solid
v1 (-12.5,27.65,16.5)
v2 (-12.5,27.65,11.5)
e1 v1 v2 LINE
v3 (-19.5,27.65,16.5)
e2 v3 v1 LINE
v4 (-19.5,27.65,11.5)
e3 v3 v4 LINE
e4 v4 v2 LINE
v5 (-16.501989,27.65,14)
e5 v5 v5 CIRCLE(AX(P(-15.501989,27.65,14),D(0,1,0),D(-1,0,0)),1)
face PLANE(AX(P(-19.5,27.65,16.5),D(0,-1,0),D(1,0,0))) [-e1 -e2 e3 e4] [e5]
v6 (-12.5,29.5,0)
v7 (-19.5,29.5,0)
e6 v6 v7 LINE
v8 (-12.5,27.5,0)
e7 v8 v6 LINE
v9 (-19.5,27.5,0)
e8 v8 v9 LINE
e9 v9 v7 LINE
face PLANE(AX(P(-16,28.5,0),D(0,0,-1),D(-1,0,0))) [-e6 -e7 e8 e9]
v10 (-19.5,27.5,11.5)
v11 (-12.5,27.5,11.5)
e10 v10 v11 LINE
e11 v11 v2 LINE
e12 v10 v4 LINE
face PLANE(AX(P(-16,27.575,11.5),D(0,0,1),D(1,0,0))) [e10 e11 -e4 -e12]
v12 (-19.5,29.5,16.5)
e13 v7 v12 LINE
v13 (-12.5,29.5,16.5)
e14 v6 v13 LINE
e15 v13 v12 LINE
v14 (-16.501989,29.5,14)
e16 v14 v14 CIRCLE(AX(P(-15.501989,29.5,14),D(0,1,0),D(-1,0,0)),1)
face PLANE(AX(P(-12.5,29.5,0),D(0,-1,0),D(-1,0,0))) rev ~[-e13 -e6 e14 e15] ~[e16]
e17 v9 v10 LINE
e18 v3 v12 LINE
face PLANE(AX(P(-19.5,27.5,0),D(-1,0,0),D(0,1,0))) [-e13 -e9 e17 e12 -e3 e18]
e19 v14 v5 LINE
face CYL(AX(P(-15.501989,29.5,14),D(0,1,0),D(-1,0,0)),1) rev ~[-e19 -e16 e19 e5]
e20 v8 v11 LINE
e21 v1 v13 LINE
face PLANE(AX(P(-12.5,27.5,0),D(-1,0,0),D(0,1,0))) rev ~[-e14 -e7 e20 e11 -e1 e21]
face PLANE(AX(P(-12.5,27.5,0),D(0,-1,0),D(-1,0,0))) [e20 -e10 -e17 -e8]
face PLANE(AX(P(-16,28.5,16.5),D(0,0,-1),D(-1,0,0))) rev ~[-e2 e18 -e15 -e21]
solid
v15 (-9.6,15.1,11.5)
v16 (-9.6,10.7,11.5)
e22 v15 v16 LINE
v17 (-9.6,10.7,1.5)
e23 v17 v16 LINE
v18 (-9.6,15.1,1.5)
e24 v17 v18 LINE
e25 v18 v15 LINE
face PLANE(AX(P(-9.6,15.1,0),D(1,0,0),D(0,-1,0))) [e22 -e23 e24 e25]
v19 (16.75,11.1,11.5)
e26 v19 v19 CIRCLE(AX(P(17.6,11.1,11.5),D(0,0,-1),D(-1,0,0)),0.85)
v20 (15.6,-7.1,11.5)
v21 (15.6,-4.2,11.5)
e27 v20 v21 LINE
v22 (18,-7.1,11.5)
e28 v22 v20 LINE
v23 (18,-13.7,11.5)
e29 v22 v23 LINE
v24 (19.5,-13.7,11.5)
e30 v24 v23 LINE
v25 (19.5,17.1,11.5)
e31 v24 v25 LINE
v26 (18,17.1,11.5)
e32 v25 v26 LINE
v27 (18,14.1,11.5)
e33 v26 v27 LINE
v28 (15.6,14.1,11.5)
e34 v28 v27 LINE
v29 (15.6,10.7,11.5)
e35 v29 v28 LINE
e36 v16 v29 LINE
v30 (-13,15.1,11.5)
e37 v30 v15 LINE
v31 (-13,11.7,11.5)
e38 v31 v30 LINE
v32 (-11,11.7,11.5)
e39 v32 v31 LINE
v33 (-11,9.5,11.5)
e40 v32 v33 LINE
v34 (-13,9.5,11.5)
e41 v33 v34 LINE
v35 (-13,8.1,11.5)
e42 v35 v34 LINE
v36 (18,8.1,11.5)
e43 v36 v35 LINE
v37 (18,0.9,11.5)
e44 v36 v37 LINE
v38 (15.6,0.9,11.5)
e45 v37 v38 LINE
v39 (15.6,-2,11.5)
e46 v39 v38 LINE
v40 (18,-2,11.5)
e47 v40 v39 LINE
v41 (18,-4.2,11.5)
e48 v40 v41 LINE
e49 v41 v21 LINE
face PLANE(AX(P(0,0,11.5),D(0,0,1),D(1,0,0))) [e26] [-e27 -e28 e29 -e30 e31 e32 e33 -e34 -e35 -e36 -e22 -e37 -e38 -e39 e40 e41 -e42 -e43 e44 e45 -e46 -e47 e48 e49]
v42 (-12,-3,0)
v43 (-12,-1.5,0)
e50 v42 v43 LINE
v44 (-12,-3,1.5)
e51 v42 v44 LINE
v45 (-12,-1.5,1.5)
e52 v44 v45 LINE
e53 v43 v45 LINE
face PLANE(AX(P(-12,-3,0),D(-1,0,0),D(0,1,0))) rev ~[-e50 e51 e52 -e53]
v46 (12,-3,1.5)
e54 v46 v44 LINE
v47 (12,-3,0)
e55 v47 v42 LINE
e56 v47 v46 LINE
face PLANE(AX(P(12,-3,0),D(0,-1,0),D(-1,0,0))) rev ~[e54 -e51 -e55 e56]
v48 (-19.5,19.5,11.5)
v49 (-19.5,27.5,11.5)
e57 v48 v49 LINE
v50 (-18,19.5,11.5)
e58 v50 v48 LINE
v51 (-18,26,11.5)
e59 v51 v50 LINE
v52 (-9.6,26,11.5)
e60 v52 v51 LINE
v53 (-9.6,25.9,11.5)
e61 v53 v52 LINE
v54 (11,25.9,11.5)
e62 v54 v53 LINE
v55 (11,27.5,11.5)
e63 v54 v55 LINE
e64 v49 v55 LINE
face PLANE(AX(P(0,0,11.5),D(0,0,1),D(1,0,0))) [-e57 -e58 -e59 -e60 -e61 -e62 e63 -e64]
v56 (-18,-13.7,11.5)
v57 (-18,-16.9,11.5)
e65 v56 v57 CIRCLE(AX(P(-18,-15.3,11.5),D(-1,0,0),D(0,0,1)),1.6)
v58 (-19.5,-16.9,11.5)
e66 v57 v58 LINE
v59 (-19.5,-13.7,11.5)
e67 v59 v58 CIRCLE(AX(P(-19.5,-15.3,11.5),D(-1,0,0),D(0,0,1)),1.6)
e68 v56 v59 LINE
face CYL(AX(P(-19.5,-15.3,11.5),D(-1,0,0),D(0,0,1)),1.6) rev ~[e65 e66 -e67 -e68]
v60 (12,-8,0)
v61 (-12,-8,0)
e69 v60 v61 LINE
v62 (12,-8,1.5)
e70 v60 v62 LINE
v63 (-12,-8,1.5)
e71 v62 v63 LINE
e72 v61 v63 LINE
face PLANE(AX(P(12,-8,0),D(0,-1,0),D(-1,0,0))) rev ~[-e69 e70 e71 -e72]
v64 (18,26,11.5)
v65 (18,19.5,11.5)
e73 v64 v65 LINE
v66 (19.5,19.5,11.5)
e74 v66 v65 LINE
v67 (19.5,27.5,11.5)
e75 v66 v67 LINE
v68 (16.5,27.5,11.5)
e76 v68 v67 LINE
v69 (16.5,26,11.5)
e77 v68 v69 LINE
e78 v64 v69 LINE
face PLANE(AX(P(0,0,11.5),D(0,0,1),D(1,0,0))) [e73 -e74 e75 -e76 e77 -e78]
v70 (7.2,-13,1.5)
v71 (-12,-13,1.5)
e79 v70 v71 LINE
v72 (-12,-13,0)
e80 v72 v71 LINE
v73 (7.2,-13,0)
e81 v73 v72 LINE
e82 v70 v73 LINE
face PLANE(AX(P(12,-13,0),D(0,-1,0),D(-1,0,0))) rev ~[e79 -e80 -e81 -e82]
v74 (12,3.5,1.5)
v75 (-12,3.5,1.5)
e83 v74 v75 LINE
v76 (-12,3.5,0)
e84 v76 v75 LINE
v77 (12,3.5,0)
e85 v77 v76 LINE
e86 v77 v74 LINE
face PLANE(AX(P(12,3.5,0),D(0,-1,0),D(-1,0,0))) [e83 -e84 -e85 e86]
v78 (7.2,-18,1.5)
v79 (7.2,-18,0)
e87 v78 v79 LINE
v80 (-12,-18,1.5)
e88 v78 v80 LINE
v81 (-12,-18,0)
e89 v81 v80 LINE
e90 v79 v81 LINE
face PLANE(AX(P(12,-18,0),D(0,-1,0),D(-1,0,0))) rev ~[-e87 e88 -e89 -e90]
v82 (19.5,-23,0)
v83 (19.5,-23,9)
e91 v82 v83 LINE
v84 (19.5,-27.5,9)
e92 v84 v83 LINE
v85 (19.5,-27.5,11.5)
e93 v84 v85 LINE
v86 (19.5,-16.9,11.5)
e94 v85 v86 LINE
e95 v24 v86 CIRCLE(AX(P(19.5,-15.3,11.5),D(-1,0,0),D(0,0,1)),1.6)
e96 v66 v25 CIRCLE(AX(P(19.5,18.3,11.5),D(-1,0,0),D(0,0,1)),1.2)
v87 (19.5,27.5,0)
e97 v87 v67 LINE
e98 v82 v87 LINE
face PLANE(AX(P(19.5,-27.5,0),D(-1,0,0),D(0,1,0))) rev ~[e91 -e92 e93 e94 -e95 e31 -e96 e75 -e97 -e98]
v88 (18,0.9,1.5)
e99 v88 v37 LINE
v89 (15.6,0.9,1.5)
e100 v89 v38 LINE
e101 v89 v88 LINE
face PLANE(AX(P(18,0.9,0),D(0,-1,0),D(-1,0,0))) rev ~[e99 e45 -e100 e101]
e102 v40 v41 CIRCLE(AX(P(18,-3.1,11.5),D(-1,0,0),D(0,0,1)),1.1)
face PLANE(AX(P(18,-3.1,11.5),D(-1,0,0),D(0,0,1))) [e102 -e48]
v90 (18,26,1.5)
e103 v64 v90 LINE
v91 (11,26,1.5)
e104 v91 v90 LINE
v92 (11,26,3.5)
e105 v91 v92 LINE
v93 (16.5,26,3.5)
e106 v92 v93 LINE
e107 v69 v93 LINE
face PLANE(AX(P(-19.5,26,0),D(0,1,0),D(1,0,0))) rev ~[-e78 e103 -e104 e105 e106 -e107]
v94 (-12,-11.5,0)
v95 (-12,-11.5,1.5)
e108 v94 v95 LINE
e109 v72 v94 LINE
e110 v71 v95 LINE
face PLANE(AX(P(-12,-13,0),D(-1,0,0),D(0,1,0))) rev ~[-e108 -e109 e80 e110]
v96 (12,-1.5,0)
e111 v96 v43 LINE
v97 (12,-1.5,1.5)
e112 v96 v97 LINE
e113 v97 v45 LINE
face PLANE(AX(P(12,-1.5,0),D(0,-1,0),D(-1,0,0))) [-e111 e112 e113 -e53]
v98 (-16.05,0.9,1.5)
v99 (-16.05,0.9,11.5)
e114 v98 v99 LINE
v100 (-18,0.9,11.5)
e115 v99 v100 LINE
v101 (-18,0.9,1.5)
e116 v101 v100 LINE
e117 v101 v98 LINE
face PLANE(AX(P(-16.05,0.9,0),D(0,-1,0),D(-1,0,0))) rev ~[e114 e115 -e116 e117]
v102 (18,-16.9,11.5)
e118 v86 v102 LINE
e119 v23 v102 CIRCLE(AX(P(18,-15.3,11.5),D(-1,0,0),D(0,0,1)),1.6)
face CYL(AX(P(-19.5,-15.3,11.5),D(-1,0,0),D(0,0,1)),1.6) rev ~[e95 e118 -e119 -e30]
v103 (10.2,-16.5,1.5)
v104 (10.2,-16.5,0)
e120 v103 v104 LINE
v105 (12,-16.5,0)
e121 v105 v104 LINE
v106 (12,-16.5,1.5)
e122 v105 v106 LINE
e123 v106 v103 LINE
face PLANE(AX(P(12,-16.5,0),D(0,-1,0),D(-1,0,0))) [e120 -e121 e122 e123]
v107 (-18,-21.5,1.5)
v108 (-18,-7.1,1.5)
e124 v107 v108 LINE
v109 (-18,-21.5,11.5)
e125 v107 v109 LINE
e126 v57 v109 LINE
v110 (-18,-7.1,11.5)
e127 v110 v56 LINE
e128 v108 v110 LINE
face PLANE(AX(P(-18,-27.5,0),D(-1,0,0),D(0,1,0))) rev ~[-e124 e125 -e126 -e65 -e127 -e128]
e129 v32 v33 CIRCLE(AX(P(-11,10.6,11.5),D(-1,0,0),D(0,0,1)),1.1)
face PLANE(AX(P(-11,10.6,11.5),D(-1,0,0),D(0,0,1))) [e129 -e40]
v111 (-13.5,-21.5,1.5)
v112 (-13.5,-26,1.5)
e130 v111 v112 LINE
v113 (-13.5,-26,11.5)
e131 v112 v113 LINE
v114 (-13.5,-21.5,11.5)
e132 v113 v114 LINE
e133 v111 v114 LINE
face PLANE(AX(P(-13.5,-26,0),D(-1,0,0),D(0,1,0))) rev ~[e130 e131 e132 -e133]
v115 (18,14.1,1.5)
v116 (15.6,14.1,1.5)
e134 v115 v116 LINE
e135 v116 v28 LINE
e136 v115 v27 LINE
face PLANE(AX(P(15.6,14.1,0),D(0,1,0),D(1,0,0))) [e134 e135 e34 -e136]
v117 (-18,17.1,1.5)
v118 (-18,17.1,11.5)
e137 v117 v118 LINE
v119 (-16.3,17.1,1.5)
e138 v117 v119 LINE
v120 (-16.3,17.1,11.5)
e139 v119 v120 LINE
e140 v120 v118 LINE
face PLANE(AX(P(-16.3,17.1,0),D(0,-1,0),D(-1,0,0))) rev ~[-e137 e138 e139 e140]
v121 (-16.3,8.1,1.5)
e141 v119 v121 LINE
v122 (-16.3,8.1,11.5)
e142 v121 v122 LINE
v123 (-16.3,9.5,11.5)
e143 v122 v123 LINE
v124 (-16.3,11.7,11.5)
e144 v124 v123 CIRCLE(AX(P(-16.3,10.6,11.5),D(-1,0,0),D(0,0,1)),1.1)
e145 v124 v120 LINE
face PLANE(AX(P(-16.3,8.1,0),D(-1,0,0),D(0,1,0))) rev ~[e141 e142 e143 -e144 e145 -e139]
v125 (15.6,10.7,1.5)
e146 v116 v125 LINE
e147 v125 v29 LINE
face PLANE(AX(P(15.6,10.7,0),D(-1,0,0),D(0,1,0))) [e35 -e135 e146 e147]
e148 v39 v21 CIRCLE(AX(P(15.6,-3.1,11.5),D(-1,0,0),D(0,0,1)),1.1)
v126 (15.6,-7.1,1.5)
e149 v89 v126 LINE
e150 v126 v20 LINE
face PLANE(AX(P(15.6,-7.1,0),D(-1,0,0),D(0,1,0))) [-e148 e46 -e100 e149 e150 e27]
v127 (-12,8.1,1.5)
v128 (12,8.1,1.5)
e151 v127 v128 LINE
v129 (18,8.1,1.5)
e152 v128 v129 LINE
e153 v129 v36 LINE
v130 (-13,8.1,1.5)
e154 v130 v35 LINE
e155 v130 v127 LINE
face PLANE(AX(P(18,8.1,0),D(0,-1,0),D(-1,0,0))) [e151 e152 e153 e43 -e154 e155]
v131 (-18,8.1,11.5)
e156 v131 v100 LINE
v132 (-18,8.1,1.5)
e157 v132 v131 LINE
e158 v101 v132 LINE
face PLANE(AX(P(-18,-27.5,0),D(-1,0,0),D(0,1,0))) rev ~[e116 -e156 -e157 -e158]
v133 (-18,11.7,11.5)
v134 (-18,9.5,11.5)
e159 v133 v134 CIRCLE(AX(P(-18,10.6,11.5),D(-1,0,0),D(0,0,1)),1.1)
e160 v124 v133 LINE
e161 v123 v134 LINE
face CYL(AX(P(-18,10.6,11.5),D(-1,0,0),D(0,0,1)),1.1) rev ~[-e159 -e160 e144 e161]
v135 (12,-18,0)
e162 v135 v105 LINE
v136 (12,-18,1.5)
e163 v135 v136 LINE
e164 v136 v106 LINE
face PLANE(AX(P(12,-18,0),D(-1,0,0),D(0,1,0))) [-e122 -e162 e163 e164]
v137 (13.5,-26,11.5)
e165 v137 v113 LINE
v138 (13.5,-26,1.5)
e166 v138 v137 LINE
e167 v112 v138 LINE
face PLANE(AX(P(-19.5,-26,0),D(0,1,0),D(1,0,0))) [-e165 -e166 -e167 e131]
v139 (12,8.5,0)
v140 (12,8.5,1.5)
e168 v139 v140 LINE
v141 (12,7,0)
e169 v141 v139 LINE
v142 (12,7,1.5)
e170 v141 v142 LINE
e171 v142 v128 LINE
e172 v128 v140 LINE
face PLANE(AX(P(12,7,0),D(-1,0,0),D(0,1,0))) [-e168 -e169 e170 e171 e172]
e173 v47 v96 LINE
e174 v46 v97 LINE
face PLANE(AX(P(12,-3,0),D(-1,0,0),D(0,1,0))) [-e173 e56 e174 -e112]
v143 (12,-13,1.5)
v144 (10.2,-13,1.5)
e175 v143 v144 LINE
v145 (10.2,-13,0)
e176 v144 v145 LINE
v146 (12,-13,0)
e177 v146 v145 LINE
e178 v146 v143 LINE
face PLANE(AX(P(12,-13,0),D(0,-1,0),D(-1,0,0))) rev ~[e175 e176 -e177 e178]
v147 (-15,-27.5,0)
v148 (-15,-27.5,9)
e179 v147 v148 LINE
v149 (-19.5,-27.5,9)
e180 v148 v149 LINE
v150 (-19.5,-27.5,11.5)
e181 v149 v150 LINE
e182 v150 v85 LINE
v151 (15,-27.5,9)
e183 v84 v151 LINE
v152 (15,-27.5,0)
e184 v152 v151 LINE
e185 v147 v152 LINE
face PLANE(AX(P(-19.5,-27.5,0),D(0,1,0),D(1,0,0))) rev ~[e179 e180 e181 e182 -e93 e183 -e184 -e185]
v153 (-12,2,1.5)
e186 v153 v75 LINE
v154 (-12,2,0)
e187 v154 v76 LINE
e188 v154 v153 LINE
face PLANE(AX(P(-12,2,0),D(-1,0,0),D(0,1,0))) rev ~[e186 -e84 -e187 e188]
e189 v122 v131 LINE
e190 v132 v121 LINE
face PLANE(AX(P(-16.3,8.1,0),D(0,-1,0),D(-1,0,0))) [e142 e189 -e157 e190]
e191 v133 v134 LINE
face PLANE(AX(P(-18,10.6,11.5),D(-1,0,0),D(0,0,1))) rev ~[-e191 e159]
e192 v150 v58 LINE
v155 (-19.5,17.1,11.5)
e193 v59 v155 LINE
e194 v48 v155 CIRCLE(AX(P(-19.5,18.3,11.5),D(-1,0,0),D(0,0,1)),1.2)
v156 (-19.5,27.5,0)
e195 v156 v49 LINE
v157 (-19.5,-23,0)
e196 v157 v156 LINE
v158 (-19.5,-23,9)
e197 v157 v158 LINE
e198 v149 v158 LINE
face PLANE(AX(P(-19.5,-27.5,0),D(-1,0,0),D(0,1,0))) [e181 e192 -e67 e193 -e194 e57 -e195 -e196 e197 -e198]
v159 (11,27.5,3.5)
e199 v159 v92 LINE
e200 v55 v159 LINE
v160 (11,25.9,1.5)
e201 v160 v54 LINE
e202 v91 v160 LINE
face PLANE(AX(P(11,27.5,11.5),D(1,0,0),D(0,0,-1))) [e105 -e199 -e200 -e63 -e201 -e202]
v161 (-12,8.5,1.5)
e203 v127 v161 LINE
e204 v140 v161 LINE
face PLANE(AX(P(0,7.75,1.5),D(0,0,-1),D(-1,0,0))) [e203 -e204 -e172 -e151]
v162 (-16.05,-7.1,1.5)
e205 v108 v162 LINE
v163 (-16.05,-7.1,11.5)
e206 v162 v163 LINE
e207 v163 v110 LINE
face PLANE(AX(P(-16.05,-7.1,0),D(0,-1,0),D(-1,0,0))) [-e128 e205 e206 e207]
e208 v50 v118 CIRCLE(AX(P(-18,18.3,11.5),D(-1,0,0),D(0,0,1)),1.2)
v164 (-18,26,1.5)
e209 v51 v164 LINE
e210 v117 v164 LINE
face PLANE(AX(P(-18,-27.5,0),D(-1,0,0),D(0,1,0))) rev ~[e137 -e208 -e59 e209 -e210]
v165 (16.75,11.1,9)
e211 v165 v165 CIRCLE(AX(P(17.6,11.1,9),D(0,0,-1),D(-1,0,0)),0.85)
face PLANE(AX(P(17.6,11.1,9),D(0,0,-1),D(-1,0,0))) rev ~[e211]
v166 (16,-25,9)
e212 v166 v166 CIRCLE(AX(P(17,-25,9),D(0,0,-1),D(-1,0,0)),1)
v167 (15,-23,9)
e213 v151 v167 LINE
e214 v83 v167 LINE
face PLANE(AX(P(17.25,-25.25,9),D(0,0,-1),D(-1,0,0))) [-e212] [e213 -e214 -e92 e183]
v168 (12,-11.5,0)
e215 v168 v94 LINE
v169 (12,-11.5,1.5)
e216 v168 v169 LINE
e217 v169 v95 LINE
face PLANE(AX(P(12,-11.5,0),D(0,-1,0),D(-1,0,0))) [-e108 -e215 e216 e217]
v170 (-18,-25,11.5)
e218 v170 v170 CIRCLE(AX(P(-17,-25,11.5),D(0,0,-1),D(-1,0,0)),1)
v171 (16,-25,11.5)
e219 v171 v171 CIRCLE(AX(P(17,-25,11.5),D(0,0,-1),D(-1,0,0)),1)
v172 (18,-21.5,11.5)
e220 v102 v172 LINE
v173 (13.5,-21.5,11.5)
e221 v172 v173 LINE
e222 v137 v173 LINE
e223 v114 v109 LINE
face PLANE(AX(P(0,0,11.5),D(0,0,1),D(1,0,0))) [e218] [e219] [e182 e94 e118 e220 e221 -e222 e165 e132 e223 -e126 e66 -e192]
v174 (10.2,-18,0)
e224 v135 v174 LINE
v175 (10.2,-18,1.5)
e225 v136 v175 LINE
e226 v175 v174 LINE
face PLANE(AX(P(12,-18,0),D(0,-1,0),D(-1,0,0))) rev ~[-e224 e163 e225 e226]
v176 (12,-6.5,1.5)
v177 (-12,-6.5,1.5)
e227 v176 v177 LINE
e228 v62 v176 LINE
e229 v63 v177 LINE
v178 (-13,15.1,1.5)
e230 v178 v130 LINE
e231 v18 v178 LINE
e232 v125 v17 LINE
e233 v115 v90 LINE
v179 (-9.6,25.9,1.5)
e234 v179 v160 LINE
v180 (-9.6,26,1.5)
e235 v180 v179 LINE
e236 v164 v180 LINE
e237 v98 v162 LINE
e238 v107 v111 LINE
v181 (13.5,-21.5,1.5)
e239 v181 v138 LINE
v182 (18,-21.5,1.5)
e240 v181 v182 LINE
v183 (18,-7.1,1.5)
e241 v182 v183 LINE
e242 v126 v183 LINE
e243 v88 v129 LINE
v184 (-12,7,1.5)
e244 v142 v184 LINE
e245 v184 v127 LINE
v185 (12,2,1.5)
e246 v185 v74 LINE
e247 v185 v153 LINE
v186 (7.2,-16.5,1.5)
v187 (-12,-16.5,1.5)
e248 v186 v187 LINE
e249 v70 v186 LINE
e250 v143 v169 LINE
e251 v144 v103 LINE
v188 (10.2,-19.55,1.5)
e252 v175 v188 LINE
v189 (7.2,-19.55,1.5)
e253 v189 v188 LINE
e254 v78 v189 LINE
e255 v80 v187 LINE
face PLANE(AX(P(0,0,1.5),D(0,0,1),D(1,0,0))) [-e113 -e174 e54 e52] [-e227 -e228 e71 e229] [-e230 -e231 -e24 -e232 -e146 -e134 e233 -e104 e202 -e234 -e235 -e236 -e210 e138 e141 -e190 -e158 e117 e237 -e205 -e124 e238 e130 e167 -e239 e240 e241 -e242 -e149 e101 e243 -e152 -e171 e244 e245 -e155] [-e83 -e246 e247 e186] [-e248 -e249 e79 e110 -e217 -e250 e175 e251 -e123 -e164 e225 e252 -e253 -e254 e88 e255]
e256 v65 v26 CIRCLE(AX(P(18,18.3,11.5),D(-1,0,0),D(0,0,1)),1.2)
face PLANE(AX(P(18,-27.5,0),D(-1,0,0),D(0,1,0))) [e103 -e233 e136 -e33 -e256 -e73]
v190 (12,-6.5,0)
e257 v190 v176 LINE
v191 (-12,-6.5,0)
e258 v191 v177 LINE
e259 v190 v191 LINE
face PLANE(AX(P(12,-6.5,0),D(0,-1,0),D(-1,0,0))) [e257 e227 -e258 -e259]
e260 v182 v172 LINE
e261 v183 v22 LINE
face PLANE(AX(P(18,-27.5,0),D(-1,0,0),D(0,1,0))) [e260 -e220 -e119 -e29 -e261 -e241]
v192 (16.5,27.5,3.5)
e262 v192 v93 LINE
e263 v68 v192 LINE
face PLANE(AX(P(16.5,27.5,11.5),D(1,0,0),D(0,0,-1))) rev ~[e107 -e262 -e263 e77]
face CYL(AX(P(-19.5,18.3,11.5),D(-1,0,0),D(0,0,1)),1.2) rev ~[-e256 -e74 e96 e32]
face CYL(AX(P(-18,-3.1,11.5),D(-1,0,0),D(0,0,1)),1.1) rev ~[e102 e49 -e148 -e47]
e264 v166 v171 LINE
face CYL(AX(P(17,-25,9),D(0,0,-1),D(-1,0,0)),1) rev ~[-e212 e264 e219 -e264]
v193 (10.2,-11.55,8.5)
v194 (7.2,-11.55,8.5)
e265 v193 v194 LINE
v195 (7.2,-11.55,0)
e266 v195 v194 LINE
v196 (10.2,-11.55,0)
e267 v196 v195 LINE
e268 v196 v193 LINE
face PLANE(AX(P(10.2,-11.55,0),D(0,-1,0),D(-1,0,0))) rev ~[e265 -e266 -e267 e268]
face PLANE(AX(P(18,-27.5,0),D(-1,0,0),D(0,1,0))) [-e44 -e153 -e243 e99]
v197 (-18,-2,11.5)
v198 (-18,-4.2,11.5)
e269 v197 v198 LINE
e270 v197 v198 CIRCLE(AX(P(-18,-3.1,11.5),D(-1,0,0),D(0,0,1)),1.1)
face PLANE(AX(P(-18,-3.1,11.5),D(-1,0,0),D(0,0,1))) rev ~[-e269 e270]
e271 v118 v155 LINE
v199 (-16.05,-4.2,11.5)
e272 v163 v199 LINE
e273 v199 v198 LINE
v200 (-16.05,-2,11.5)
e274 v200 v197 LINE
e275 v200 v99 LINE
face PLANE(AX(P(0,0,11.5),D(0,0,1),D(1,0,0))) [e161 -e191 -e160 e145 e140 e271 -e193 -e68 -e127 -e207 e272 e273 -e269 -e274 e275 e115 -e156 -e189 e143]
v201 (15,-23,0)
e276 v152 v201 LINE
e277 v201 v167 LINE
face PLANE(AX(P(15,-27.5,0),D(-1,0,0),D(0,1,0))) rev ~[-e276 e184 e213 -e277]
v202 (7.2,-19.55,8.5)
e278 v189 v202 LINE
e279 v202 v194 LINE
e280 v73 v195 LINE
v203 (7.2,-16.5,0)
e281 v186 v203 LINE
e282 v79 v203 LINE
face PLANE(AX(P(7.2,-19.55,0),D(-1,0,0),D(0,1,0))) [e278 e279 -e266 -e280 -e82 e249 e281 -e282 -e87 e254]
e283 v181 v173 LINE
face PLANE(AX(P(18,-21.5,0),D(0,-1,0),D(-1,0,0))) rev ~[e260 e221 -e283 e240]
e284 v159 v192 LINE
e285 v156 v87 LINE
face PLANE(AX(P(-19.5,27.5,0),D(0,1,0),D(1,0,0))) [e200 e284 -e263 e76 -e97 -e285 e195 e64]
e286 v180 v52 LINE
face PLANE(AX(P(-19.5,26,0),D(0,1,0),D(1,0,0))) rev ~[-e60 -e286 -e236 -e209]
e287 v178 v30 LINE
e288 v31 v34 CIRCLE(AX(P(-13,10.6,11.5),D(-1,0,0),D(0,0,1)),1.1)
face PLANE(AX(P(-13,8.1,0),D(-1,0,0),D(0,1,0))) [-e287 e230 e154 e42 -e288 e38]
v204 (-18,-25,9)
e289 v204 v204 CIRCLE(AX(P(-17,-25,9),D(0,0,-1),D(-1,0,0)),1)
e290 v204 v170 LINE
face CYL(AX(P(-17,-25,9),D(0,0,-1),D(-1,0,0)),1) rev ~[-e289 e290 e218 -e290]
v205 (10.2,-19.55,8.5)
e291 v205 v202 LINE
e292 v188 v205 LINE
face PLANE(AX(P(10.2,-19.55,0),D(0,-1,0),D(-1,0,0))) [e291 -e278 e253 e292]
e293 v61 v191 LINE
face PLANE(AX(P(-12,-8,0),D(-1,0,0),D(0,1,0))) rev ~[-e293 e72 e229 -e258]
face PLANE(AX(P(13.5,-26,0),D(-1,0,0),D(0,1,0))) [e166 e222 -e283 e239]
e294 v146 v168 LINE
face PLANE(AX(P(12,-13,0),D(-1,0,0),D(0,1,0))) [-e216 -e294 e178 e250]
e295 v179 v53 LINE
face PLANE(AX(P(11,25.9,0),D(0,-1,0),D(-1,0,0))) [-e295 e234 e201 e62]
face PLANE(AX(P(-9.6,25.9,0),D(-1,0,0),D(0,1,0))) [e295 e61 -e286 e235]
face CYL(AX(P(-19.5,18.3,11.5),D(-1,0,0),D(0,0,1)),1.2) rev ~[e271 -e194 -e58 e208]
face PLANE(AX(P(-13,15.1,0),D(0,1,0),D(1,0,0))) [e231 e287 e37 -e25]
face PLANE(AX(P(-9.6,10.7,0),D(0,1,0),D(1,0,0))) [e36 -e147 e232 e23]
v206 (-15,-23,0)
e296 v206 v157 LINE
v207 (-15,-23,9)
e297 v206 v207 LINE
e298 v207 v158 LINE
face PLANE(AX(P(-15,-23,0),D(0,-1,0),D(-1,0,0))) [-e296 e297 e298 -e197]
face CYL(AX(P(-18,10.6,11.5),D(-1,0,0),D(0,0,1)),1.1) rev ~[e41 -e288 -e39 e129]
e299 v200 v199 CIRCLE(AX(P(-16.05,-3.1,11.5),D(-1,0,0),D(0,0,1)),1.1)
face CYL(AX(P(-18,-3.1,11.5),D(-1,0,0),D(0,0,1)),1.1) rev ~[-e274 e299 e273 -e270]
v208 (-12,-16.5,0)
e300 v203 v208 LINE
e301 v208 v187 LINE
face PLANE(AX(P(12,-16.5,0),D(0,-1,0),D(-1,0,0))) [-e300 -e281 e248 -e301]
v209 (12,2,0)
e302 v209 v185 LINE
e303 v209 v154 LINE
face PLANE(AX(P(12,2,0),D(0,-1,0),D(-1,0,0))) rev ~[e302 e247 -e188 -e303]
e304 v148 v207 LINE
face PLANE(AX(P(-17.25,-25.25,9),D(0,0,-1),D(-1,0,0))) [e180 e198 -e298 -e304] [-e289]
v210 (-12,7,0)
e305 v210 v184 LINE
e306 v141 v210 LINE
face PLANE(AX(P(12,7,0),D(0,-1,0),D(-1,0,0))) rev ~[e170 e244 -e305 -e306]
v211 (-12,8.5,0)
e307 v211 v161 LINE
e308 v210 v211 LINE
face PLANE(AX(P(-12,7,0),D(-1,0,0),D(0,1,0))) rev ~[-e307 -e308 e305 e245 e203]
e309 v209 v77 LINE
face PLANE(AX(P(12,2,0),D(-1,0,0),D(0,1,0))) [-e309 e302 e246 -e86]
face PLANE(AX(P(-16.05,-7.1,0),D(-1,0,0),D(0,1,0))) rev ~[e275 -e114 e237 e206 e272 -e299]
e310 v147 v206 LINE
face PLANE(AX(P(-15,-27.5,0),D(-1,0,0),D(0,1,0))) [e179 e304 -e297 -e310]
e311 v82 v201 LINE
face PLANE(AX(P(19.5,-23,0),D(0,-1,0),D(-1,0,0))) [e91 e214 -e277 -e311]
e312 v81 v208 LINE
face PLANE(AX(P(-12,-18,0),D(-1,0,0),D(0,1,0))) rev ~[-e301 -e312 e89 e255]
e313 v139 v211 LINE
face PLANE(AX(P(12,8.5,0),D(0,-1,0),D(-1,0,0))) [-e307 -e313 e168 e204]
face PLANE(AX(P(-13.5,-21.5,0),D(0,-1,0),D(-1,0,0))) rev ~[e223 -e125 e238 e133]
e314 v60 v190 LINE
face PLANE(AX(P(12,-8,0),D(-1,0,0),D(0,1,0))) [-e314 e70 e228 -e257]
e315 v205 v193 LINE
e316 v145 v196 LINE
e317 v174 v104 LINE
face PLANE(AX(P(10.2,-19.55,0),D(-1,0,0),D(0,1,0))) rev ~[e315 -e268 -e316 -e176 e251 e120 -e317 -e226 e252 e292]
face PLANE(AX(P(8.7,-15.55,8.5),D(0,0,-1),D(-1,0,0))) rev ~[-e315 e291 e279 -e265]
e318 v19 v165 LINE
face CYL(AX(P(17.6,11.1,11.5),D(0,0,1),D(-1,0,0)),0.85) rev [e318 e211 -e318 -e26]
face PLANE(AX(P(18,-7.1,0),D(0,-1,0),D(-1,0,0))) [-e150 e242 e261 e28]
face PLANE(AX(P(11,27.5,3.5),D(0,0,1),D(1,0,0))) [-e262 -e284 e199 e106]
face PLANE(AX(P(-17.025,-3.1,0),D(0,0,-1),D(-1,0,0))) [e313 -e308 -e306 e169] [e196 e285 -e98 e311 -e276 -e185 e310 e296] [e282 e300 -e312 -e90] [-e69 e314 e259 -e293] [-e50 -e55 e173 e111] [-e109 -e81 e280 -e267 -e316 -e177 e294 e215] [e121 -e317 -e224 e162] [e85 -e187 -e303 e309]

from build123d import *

# Parameters (mm, degrees)
SKETCH_1_W           = 39
SKETCH_1_H           = 55
EXTRUDE_1_DEPTH      = 11.5
SHELL_1_T            = -1.5
SKETCH_2_W           = 7
SKETCH_2_H           = 2
EXTRUDE_2_DEPTH      = 16.5
SKETCH_3_R           = 1
CUT_EXTRUDE_1_DEPTH  = 2
SKETCH_4_W           = 5.5
SKETCH_4_H           = 8
CUT_EXTRUDE_2_DEPTH  = 1.5
SKETCH_5_R           = 1.2
SKETCH_5_R_2         = 1.6
CUT_EXTRUDE_3_DEPTH  = 52.609107723
SKETCH_8_W           = 1.95
SKETCH_8_H           = 8
SKETCH_8_W_2         = 2.4
SKETCH_8_W_3         = 1.7
SKETCH_8_H_2         = 9
SKETCH_8_W_4         = 4.5
SKETCH_8_H_3         = 4.5
SKETCH_8_W_5         = 20.6
SKETCH_8_H_4         = 0.1
EXTRUDE_3_DEPTH      = 11.5
CUT_EXTRUDE_START    = -1.5
SKETCH_10_R          = 1.1
CUT_EXTRUDE_12_DEPTH = 7
SKETCH_7_R           = 1.1
CUT_EXTRUDE_13_DEPTH = 36
SKETCH_13_W          = 24
SKETCH_13_H          = 1.5
CUT_EXTRUDE_14_DEPTH = 1.5
SKETCH_12_W          = 3
SKETCH_12_H          = 8
EXTRUDE_4_DEPTH      = 8.5
SKETCH_14_W          = 7
SKETCH_14_H          = 0.15
CUT_EXTRUDE_15_DEPTH = 5
SKETCH_15_W          = 4.5
SKETCH_15_H          = 4.5
CUT_EXTRUDE_16_DEPTH = 9
SKETCH_16_R          = 1
CUT_EXTRUDE_17_DEPTH = 2.5
CUT_EXTRUDE_START_2  = -11.5
SKETCH_17_R          = 0.85
CUT_EXTRUDE_18_DEPTH = 2.5


with BuildPart() as part:
    # 草图1 → 凸台-拉伸1 (new body)
    with BuildSketch(Plane.XY):
        Rectangle(SKETCH_1_W, SKETCH_1_H)
    extrude(amount=EXTRUDE_1_DEPTH)

    # 抽壳1
    shell_1_openings = [part.faces().sort_by_distance(p)[0] for p in [
        (0, 0, 11.5),
    ]]
    offset(amount=SHELL_1_T, openings=shell_1_openings, kind=Kind.INTERSECTION)

    # 草图4 → 切除-拉伸2 (cut)
    with BuildSketch(Plane(origin=(0, 27.5, 0), x_dir=(1, 0, 0), z_dir=(0, 1, 0))):
        with Locations((13.75, -7.5)):
            Rectangle(SKETCH_4_W, SKETCH_4_H)
    extrude(amount=-CUT_EXTRUDE_2_DEPTH, mode=Mode.SUBTRACT)

    # 草图5 → 切除-拉伸3 (cut, through all)
    with BuildSketch(Plane.ZY.offset(19.5)):
        with Locations((11.5, 18.3)):
            Circle(SKETCH_5_R)
        with Locations((11.5, -15.3)):
            Circle(SKETCH_5_R_2)
    extrude(amount=-CUT_EXTRUDE_3_DEPTH, mode=Mode.SUBTRACT)

    # 草图8 → 凸台-拉伸3 (add)
    with BuildSketch(Plane(origin=(0, 0, 0), x_dir=(-1, 0, 0), z_dir=(0, 0, -1))):
        with Locations((17.025, -3.1)):
            Rectangle(SKETCH_8_W, SKETCH_8_H)
        with Locations((-16.8, -3.1)):
            Rectangle(SKETCH_8_W_2, SKETCH_8_H)
        Polygon((-15.6, 14.1), (-18, 14.1), (-18, 8.1), (13, 8.1), (13, 15.1), (9.6, 15.1), (9.6, 10.7), (-15.6, 10.7), align=None)
        with Locations((17.15, 12.6)):
            Rectangle(SKETCH_8_W_3, SKETCH_8_H_2)
        with Locations((15.75, -23.75)):
            Rectangle(SKETCH_8_W_4, SKETCH_8_H_3)
        with Locations((-15.75, -23.75)):
            Rectangle(SKETCH_8_W_4, SKETCH_8_H_3)
        with Locations((-0.7, 25.95)):
            Rectangle(SKETCH_8_W_5, SKETCH_8_H_4)
    extrude(amount=-EXTRUDE_3_DEPTH)

    # 草图10 → 切除-拉伸12 (cut)
    with BuildSketch(Plane.ZY.offset(19.5).offset(CUT_EXTRUDE_START)):
        with Locations((11.5, 10.6)):
            Circle(SKETCH_10_R)
    extrude(amount=-CUT_EXTRUDE_12_DEPTH, mode=Mode.SUBTRACT)

    # 草图7 → 切除-拉伸13 (cut)
    with BuildSketch(Plane.ZY.offset(19.5).offset(CUT_EXTRUDE_START)):
        with Locations((11.5, -3.1)):
            Circle(SKETCH_7_R)
    extrude(amount=-CUT_EXTRUDE_13_DEPTH, mode=Mode.SUBTRACT)

    # 草图13 → 切除-拉伸14 (cut)
    with BuildSketch(Plane(origin=(0, 0, 0), x_dir=(-1, 0, 0), z_dir=(0, 0, -1))):
        with Locations((0, -17.25)):
            Rectangle(SKETCH_13_W, SKETCH_13_H)
        with Locations((0, -12.25)):
            Rectangle(SKETCH_13_W, SKETCH_13_H)
        with Locations((0, -7.25)):
            Rectangle(SKETCH_13_W, SKETCH_13_H)
        with Locations((0, -2.25)):
            Rectangle(SKETCH_13_W, SKETCH_13_H)
        with Locations((0, 2.75)):
            Rectangle(SKETCH_13_W, SKETCH_13_H)
        with Locations((0, 7.75)):
            Rectangle(SKETCH_13_W, SKETCH_13_H)
    extrude(amount=-CUT_EXTRUDE_14_DEPTH, mode=Mode.SUBTRACT)

    # 草图12 → 凸台-拉伸4 (add)
    with BuildSketch(Plane(origin=(0, 0, 0), x_dir=(-1, 0, 0), z_dir=(0, 0, -1))):
        with Locations((-8.7, -15.55)):
            Rectangle(SKETCH_12_W, SKETCH_12_H)
    extrude(amount=-EXTRUDE_4_DEPTH)

    # 草图15 → 切除-拉伸16 (cut)
    with BuildSketch(Plane(origin=(0, 0, 0), x_dir=(-1, 0, 0), z_dir=(0, 0, -1))):
        with Locations((17.25, -25.25)):
            Rectangle(SKETCH_15_W, SKETCH_15_H)
        with Locations((-17.25, -25.25)):
            Rectangle(SKETCH_15_W, SKETCH_15_H)
    extrude(amount=-CUT_EXTRUDE_16_DEPTH, mode=Mode.SUBTRACT)

    # 草图16 → 切除-拉伸17 (cut)
    with BuildSketch(Plane(origin=(0, 0, 9), x_dir=(-1, 0, 0), z_dir=(0, 0, -1))):
        with Locations((-17, -25)):
            Circle(SKETCH_16_R)
        with Locations((17, -25)):
            Circle(SKETCH_16_R)
    extrude(amount=-CUT_EXTRUDE_17_DEPTH, mode=Mode.SUBTRACT)

    # 草图17 → 切除-拉伸18 (cut)
    with BuildSketch(Plane(origin=(0, 0, 0), x_dir=(-1, 0, 0), z_dir=(0, 0, -1)).offset(CUT_EXTRUDE_START_2)):
        with Locations((-17.6, 11.1)):
            Circle(SKETCH_17_R)
    extrude(amount=CUT_EXTRUDE_18_DEPTH, mode=Mode.SUBTRACT)


with BuildPart() as body_2:
    # 草图2 → 凸台-拉伸2 (new body)
    with BuildSketch(Plane(origin=(0, 0, 0), x_dir=(-1, 0, 0), z_dir=(0, 0, -1))):
        with Locations((16, 28.5)):
            Rectangle(SKETCH_2_W, SKETCH_2_H)
    extrude(amount=-EXTRUDE_2_DEPTH)

    # 草图3 → 切除-拉伸1 (cut)
    with BuildSketch(Plane(origin=(0, 29.5, 0), x_dir=(1, 0, 0), z_dir=(0, 1, 0))):
        with Locations(Location((-15.501988962, -14, 0), (0, 0, 180))):
            Circle(SKETCH_3_R)
    extrude(amount=-CUT_EXTRUDE_1_DEPTH, mode=Mode.SUBTRACT)

    # 草图14 → 切除-拉伸15 (cut)
    with BuildSketch(Plane.XY.offset(16.5)):
        with Locations((-16, 27.575)):
            Rectangle(SKETCH_14_W, SKETCH_14_H)
    extrude(amount=-CUT_EXTRUDE_15_DEPTH, mode=Mode.SUBTRACT)


solid = Compound([part.part, body_2.part])
